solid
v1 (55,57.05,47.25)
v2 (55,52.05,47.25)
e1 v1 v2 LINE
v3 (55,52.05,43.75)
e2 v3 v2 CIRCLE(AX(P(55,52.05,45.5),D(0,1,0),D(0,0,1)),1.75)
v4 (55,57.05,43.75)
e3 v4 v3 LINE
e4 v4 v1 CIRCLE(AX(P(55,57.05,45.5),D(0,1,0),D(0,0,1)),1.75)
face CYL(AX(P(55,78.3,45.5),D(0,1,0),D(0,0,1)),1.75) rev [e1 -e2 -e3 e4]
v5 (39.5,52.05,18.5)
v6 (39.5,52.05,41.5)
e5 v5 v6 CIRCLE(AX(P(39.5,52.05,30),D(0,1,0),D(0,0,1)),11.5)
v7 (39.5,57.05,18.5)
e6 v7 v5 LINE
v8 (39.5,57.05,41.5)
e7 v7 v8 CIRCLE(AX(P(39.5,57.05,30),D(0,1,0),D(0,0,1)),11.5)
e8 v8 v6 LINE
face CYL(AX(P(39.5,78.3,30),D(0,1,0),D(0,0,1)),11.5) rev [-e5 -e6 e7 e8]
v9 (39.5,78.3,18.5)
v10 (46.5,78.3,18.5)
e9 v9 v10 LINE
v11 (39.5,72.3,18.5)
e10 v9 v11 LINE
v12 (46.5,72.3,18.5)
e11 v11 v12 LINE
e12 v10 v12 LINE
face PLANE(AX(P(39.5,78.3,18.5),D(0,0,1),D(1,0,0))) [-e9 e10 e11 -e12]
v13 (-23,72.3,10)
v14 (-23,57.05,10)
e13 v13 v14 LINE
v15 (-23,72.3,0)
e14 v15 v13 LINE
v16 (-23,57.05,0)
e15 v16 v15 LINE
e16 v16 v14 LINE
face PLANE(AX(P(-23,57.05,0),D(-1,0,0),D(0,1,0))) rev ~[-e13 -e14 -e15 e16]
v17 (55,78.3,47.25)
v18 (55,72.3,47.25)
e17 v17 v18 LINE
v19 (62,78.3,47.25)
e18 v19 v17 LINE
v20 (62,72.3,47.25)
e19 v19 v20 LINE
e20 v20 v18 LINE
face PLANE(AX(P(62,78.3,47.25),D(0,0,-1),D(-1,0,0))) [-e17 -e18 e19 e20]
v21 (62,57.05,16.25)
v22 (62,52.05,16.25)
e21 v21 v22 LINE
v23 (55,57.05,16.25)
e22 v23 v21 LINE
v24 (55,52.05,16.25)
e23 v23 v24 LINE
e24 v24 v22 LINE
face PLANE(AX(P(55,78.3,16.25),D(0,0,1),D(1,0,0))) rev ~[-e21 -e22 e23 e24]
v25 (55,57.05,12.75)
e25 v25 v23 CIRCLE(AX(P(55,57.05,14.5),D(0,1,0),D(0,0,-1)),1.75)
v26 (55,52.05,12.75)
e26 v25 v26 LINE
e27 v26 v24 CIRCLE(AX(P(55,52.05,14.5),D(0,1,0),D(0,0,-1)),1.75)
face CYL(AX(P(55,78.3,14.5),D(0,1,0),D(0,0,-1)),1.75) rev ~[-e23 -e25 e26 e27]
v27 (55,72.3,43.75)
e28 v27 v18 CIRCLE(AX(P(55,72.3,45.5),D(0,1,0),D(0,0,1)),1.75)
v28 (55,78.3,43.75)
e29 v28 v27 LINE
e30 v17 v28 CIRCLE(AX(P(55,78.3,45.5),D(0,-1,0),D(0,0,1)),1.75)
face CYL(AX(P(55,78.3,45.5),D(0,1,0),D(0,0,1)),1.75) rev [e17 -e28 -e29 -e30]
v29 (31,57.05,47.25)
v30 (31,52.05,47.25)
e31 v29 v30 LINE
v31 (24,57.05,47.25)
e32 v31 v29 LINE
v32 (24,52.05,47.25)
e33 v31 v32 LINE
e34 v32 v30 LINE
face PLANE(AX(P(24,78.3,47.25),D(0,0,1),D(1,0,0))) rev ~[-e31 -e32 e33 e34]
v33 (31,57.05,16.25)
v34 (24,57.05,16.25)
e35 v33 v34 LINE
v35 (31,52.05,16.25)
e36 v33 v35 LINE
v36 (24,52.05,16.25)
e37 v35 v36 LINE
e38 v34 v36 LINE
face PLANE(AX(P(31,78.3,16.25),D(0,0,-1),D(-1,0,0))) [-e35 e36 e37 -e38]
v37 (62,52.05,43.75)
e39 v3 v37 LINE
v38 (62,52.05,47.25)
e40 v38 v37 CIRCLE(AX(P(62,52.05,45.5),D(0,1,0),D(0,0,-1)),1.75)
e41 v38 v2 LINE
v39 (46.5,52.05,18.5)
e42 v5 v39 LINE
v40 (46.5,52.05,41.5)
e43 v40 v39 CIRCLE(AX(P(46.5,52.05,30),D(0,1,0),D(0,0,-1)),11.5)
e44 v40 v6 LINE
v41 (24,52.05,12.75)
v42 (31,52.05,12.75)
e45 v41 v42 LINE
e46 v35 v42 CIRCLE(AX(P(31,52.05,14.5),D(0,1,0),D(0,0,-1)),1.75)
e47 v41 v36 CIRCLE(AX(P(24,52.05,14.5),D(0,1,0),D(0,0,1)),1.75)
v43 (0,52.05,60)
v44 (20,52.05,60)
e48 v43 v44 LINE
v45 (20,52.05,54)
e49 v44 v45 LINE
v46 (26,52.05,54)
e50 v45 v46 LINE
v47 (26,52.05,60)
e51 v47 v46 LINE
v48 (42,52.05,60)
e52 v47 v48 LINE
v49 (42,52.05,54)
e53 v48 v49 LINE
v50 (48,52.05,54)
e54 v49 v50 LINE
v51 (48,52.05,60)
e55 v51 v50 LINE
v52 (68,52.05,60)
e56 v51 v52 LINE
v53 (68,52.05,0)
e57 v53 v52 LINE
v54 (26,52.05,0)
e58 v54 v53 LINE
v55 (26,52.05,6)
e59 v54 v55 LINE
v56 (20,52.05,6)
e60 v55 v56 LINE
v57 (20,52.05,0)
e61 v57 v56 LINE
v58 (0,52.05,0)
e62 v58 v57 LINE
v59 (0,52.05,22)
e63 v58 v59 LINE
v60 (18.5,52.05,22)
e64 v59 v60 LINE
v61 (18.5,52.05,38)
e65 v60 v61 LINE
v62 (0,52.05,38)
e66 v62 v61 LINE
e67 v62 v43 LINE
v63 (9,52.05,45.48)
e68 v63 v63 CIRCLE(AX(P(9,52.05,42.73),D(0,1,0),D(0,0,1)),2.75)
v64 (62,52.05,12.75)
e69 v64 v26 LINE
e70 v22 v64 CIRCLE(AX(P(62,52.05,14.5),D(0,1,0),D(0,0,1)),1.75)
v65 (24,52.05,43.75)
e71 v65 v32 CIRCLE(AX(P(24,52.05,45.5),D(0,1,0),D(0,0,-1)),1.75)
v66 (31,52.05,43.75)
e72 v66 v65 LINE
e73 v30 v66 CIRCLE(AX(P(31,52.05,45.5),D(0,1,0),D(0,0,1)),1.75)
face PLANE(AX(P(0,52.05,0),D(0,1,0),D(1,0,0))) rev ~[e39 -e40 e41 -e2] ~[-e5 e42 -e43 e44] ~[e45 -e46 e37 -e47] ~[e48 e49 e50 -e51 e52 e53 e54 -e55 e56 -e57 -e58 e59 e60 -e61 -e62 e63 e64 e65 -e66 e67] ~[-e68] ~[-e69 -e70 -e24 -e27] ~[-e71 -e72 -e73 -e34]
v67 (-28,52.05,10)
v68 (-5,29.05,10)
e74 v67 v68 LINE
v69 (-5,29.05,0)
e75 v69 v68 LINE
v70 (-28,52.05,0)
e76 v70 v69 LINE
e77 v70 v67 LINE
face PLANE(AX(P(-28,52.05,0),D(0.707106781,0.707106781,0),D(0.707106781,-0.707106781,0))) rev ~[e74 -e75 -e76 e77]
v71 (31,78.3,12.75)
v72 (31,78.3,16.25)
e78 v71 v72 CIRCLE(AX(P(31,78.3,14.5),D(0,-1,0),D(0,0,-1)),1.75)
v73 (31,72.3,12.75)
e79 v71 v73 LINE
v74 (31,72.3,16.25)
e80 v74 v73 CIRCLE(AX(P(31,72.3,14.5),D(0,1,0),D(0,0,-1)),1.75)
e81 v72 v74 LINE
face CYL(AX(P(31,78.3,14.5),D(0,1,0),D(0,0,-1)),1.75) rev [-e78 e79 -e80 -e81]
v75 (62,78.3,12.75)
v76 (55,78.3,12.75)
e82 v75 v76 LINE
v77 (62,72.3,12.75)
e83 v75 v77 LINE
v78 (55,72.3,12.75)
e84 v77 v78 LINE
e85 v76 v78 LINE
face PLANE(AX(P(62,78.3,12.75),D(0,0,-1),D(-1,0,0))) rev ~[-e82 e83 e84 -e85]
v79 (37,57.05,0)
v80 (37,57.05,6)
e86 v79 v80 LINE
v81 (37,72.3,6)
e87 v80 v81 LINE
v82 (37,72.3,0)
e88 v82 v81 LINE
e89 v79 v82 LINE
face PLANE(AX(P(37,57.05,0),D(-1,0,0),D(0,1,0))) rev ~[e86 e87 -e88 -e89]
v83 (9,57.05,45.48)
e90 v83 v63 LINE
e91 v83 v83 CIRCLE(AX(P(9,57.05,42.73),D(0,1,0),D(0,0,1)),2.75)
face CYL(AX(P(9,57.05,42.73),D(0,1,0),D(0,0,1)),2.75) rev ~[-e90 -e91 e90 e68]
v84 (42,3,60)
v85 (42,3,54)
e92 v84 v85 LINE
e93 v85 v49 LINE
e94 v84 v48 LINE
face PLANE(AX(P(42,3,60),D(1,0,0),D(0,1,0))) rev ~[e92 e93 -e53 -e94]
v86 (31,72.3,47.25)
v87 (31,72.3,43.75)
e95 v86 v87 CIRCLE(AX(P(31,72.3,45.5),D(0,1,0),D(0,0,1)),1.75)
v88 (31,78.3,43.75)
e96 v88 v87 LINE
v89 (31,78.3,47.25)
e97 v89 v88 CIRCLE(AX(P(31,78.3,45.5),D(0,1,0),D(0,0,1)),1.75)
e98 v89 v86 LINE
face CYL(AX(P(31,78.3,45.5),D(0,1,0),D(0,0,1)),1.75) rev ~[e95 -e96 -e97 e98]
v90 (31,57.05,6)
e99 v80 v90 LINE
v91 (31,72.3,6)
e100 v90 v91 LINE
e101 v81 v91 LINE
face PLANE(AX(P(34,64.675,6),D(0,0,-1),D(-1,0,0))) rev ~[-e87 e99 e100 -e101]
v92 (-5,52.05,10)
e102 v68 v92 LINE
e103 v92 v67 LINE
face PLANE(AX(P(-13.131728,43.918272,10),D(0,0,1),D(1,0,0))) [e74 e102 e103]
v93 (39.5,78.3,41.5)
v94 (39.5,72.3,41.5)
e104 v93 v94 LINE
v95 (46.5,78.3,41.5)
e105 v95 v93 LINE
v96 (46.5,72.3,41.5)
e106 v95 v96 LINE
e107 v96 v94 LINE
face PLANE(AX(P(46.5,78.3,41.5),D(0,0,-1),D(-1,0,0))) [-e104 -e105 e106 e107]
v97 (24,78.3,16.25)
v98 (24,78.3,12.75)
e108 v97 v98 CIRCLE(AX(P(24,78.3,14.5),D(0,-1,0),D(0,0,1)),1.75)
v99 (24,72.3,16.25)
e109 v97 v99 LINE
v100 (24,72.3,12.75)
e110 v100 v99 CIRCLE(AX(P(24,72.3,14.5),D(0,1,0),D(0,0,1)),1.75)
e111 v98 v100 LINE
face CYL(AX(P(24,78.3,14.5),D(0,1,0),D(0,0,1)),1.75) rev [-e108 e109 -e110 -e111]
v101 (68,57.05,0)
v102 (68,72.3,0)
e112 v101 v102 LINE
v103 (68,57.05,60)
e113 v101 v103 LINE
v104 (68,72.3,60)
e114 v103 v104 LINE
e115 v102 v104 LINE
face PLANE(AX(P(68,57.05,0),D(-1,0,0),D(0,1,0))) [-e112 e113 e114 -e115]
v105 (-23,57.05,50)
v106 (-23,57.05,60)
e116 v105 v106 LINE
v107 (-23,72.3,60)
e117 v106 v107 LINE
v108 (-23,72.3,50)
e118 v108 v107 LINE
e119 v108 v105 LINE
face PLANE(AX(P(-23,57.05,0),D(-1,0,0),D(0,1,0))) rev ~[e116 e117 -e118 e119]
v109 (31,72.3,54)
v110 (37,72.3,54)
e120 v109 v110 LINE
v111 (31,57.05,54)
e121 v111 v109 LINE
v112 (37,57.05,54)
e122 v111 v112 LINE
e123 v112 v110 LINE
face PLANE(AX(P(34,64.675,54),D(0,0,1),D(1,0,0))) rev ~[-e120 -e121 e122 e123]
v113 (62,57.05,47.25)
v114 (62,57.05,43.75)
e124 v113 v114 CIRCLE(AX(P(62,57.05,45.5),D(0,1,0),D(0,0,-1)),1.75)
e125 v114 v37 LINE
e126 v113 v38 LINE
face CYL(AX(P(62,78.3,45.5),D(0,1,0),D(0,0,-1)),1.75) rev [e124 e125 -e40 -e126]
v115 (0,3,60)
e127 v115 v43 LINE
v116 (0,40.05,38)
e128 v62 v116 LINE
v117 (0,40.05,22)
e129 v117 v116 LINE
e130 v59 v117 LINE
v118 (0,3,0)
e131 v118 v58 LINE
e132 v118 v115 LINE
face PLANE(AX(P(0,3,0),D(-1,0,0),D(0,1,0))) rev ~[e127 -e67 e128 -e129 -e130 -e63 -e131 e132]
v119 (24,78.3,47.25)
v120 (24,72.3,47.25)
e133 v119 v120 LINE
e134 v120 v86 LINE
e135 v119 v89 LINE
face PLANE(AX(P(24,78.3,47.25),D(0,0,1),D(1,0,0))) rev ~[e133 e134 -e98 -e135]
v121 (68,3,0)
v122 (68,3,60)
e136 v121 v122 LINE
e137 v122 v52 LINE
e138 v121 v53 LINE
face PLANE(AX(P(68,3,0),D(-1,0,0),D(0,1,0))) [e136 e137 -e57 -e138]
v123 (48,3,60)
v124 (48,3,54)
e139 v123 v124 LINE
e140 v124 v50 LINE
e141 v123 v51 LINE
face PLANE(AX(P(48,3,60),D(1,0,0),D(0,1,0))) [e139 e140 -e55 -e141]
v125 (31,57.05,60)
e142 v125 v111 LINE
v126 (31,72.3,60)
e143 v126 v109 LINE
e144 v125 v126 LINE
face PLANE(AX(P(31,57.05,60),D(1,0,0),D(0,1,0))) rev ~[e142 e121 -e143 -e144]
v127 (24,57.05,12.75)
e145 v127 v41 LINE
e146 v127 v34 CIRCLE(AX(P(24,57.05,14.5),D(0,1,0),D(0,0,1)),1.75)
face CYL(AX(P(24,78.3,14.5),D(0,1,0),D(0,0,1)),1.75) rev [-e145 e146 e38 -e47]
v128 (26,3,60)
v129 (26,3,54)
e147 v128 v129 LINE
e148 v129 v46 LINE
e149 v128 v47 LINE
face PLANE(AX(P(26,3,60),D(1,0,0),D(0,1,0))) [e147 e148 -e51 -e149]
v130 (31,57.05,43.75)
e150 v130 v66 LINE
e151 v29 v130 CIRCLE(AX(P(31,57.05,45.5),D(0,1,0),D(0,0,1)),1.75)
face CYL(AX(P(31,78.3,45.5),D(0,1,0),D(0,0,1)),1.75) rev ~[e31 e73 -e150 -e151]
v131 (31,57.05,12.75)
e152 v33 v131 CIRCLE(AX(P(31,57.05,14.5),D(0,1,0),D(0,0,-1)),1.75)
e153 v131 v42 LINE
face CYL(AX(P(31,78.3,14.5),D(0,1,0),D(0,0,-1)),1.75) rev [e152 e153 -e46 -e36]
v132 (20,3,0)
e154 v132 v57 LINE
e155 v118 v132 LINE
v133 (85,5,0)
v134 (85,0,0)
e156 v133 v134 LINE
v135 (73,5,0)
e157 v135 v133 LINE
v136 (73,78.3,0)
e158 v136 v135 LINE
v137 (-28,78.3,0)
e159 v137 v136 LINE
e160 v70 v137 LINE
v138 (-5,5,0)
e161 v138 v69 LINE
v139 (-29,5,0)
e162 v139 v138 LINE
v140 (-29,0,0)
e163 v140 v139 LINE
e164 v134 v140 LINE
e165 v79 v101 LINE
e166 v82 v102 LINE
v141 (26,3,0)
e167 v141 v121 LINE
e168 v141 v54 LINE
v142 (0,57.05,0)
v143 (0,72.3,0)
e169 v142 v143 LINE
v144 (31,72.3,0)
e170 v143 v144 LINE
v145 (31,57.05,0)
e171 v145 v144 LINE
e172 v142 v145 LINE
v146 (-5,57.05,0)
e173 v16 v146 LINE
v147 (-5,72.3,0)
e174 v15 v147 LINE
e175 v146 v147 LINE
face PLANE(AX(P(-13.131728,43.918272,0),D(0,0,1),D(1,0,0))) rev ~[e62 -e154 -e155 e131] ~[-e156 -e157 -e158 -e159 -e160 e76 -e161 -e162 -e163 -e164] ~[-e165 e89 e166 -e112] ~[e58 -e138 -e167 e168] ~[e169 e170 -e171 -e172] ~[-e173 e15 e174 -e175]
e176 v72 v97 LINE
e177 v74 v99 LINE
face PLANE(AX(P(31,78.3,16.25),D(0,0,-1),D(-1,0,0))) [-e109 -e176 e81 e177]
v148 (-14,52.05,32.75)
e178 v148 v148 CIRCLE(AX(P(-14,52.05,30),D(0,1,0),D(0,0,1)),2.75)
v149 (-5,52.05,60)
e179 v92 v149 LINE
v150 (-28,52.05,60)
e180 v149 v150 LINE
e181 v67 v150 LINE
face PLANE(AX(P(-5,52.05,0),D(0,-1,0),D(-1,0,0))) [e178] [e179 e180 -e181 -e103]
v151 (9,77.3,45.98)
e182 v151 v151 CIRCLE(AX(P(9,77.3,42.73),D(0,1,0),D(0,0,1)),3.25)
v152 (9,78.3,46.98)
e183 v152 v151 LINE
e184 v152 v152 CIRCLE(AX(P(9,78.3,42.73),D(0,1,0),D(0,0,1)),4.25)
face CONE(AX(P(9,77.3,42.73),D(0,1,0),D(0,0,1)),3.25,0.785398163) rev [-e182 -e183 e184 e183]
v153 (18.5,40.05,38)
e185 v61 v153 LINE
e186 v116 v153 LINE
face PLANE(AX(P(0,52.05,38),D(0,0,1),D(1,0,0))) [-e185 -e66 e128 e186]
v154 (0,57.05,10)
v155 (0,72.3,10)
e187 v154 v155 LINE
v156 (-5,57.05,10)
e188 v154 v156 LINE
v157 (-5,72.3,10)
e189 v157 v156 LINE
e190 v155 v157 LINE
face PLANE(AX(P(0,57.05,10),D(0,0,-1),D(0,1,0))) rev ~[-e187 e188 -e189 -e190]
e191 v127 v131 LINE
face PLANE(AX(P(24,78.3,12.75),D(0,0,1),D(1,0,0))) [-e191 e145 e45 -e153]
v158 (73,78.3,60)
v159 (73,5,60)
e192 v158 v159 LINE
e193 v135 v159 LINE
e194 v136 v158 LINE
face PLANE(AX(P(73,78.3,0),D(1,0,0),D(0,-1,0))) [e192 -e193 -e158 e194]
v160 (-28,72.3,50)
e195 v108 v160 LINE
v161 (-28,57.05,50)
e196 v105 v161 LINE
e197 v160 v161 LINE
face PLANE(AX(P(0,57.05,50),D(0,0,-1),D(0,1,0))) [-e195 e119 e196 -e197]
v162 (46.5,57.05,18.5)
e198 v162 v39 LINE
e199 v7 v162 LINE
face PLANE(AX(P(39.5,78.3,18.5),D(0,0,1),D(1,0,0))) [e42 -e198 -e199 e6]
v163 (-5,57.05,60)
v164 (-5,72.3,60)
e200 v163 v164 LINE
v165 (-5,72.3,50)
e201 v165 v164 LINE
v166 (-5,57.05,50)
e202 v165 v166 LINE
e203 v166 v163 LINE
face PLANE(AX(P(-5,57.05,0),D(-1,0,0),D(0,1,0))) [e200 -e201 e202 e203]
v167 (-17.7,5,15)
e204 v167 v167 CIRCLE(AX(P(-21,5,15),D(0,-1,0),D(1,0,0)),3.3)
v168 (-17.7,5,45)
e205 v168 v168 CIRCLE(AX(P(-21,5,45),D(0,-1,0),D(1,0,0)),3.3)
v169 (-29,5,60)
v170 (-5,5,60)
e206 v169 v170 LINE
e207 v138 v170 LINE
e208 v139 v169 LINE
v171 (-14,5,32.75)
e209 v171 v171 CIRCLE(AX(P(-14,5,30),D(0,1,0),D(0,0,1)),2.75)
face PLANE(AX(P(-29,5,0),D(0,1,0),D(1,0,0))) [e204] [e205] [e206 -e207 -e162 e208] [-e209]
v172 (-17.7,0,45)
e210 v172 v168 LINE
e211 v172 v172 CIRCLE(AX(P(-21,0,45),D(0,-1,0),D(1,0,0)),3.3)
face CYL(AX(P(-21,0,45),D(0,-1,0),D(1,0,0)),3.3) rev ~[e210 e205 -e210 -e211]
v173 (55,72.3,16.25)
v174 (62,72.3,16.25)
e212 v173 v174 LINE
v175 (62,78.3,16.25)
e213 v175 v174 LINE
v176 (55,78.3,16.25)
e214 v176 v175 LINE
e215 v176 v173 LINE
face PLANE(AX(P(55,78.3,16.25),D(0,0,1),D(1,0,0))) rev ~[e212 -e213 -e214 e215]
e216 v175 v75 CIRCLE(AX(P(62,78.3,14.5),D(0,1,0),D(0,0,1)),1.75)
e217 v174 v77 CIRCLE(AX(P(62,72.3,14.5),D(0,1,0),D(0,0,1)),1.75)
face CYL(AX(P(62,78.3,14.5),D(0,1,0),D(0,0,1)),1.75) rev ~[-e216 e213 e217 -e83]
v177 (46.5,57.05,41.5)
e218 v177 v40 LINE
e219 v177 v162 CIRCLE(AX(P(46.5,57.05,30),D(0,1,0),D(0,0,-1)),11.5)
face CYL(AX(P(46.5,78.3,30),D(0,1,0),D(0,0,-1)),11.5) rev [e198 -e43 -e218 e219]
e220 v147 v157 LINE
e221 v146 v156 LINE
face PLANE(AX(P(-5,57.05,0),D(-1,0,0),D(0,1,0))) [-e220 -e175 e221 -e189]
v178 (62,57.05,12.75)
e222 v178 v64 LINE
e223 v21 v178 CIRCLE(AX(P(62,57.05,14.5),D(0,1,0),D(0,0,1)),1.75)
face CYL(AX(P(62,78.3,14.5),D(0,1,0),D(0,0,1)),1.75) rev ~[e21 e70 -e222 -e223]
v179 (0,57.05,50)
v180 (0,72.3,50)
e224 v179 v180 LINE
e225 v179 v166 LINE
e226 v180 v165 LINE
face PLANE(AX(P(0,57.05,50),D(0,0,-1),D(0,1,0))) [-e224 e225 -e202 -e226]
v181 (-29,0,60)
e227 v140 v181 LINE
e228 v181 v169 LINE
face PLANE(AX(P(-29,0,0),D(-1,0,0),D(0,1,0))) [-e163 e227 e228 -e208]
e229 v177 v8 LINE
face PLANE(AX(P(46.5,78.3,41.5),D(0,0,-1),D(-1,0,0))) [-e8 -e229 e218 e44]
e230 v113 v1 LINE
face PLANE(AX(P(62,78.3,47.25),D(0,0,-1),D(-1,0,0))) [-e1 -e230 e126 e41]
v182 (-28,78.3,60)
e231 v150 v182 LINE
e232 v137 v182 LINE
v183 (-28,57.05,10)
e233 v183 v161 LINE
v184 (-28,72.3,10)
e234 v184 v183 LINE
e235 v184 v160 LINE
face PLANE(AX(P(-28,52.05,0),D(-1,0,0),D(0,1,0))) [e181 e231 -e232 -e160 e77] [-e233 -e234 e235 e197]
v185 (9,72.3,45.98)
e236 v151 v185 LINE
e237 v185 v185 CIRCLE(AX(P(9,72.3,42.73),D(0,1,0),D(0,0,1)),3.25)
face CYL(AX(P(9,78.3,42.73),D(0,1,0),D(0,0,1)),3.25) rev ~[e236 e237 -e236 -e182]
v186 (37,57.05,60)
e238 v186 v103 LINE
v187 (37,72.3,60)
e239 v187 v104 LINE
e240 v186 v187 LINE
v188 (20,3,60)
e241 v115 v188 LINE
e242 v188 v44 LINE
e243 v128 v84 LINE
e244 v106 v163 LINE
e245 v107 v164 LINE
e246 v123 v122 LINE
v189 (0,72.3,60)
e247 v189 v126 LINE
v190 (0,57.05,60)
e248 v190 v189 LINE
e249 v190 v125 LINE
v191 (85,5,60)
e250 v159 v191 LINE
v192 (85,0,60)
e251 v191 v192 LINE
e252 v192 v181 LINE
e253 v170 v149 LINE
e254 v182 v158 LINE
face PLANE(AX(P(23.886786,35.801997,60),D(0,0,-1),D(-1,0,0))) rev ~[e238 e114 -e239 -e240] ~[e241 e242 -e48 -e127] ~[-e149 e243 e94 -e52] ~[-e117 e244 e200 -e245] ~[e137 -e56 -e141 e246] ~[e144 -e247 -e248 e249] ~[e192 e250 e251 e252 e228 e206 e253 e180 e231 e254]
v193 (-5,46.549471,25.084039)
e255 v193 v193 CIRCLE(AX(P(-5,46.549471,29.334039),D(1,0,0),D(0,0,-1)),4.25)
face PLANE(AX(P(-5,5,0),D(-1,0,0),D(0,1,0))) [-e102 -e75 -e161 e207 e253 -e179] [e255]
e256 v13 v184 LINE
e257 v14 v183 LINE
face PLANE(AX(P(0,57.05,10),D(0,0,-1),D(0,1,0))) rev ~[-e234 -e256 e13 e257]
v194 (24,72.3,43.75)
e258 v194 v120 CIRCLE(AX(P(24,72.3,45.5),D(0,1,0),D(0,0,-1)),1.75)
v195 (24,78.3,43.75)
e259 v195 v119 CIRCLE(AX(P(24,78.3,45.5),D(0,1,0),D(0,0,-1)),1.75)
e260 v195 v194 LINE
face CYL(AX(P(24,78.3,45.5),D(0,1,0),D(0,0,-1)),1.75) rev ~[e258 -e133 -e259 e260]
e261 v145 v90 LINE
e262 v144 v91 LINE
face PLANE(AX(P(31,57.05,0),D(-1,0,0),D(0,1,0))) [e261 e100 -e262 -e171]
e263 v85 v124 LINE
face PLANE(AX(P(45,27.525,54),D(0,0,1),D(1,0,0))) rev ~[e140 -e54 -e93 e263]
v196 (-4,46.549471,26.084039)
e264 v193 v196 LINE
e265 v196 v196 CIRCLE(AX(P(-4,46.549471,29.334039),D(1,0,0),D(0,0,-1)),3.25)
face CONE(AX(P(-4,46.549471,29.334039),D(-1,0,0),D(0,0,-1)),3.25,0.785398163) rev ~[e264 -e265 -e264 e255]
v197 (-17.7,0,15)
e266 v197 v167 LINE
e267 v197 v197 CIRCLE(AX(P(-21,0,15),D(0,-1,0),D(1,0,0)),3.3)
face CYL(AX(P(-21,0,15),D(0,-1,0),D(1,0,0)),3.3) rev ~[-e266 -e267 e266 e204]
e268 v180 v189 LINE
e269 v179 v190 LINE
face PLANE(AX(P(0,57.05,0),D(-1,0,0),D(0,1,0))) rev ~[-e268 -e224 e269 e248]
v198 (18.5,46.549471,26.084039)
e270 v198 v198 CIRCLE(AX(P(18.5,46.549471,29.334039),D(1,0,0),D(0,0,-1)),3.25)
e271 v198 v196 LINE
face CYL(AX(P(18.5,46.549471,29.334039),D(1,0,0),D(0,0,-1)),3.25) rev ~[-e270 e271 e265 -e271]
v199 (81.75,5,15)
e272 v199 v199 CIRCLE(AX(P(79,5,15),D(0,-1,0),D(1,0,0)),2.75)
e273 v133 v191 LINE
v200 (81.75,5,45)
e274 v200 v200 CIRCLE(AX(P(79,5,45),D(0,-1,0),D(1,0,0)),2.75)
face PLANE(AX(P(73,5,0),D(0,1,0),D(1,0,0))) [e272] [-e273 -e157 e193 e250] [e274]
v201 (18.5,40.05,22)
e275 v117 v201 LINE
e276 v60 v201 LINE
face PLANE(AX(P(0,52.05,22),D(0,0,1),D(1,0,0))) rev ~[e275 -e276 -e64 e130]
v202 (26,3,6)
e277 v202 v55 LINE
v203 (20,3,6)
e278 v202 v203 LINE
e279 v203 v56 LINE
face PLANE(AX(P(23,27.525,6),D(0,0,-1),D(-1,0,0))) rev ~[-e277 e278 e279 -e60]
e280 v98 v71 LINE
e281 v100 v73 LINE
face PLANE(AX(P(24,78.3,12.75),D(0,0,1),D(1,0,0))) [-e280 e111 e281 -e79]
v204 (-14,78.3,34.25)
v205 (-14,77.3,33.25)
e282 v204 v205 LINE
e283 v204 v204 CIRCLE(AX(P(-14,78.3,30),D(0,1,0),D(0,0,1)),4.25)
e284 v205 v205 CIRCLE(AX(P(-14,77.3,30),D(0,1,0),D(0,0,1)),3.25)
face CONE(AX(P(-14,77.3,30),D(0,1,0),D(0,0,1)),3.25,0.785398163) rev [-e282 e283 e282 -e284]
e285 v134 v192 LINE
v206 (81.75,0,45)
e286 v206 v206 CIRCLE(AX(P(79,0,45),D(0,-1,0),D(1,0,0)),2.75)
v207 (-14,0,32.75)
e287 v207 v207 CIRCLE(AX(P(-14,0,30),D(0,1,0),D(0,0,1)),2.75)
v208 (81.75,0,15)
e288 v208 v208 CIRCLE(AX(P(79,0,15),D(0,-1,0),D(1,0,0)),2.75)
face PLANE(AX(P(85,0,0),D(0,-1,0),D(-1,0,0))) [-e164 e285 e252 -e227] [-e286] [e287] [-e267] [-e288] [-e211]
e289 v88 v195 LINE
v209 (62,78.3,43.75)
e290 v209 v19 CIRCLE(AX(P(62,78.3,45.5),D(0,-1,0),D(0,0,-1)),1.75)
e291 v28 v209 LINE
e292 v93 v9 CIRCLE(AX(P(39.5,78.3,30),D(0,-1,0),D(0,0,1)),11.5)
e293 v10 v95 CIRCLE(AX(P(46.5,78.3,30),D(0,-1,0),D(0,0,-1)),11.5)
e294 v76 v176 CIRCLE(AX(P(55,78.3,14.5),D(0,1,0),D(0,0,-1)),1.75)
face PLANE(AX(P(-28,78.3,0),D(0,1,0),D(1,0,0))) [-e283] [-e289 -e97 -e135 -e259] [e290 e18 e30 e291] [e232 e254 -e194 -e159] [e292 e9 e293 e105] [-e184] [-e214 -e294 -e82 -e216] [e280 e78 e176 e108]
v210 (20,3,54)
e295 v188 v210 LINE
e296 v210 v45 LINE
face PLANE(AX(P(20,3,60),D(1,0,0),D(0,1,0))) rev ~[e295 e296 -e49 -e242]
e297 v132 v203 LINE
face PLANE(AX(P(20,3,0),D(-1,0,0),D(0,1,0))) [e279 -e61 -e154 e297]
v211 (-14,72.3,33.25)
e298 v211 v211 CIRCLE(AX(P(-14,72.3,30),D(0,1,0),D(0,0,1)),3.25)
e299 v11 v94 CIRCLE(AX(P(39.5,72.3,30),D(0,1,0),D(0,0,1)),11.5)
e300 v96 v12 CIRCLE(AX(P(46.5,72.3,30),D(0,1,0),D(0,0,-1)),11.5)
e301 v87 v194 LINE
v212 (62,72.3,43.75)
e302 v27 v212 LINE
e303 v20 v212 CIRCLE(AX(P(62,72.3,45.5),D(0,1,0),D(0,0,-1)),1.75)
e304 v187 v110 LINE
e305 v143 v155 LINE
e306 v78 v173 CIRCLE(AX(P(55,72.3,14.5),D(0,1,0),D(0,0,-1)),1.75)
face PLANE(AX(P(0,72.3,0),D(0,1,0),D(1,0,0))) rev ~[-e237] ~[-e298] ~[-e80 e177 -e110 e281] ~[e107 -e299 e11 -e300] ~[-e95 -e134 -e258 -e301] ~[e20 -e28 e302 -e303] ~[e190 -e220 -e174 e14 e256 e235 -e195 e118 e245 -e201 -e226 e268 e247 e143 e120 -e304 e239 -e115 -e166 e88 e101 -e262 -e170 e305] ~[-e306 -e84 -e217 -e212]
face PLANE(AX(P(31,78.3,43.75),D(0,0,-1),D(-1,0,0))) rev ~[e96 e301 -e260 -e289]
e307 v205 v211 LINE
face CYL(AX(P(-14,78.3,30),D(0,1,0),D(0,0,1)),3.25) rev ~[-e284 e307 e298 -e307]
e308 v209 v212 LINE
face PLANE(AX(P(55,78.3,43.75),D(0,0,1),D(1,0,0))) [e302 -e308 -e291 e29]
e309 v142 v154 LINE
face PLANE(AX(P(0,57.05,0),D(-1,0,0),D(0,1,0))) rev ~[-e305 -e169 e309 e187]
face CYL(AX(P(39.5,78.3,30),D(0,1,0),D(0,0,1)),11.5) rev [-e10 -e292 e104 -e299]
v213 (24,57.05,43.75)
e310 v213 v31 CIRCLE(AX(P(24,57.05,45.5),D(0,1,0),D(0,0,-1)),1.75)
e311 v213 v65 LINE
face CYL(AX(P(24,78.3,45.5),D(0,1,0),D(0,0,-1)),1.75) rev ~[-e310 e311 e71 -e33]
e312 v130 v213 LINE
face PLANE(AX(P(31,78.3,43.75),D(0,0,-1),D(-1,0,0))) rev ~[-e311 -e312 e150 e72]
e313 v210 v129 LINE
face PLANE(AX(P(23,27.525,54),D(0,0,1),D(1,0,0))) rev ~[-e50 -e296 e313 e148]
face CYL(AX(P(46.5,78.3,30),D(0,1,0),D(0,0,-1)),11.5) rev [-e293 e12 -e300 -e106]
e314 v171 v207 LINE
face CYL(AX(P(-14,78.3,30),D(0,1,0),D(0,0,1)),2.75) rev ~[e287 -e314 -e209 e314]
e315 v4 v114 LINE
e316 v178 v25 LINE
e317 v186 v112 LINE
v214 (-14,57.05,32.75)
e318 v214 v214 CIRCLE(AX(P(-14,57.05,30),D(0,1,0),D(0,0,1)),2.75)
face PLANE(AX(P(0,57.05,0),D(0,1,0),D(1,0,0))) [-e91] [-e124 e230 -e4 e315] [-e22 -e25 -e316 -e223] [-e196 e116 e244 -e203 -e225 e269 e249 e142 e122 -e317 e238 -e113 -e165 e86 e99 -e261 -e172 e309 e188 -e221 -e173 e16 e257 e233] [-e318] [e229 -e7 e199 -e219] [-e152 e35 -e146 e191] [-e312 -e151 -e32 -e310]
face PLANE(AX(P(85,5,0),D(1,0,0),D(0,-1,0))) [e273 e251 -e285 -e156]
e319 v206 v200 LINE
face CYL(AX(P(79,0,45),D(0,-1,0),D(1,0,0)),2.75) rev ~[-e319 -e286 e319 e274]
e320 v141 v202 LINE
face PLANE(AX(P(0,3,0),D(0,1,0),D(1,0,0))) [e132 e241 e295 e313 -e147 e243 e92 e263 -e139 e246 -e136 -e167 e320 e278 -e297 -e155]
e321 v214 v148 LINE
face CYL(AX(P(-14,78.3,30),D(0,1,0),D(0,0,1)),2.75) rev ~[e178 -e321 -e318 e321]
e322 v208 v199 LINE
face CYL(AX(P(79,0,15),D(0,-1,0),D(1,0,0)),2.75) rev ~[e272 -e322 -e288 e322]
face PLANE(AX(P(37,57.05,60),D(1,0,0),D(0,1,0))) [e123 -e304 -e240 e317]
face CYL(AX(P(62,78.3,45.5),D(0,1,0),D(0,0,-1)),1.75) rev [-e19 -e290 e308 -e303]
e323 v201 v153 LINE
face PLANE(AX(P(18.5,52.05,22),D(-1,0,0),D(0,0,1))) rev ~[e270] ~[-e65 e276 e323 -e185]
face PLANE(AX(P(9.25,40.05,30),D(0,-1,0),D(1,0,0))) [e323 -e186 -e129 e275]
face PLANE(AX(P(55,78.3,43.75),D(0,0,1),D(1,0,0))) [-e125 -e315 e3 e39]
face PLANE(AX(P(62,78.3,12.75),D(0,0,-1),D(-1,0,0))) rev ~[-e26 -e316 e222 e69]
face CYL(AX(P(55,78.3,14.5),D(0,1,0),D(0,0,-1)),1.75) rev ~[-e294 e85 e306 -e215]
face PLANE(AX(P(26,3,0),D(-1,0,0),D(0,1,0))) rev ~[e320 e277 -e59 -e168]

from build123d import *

# Parameters (mm, degrees)
SKETCH1_W           = 68
SKETCH1_H           = 49.05
SKETCH1_H_2         = 15.25
SKETCH1_W_2         = 18
BOSS_EXTRUDE1_DEPTH = 60
SKETCH2_W           = 40
SKETCH2_H           = 15.25
CUT_EXTRUDE1_DEPTH  = 131.214784107
CUT_EXTRUDE2_REACH  = 132.215
CUT_EXTRUDE3_REACH  = 132.215
SKETCH5_R           = 3.25
CUT_EXTRUDE4_REACH  = 120.658
SKETCH6_R           = 2.75
SKETCH7_R           = 2.75
CUT_EXTRUDE5_DEPTH  = 131.214784107
CUT_EXTRUDE6_REACH  = 132.215
SKETCH8_R           = 3.25
CHAMFER1_SIZE       = 1
CUT_EXTRUDE8_REACH  = 132.215
SKETCH10_R          = 3.3
SKETCH10_R_2        = 2.75
SKETCH11_W          = 18.5
SKETCH11_H          = 16
BOSS_EXTRUDE2_DEPTH = 12
SKETCH12_R          = 3.25
CUT_EXTRUDE9_DEPTH  = 119.966970206
CHAMFER2_SIZE       = 1
SKETCH13_W          = 6
SKETCH13_H          = 15.25
BOSS_EXTRUDE3_DEPTH = 6
SKETCH14_W          = 6
SKETCH14_H          = 49.05
BOSS_EXTRUDE4_DEPTH = 6
SKETCH15_W          = 6
SKETCH15_H          = 49.05
SKETCH15_H_2        = 15.25
BOSS_EXTRUDE5_DEPTH = 6
BOSS_EXTRUDE6_DEPTH = 10


with BuildPart() as part:
    # Sketch1 → Boss-Extrude1 (new body)
    with BuildSketch(Plane.XY):
        Polygon((85, 0), (-29, 0), (-29, 5), (-5, 5), (-5, 52.05), (-28, 52.05), (-28, 78.3), (73, 78.3), (73, 5), (85, 5), align=None)
        with Locations((34, 27.525)):
            Rectangle(SKETCH1_W, SKETCH1_H, mode=Mode.SUBTRACT)
        with Locations((34, 64.675)):
            Rectangle(SKETCH1_W, SKETCH1_H_2, mode=Mode.SUBTRACT)
        with Locations((-14, 64.675)):
            Rectangle(SKETCH1_W_2, SKETCH1_H_2, mode=Mode.SUBTRACT)
    extrude(amount=BOSS_EXTRUDE1_DEPTH)

    # Sketch2 → Cut-Extrude1 (cut, through all)
    with BuildSketch(Plane(origin=(0, 0, 0), x_dir=(0, 0, -1), z_dir=(1, 0, 0))):
        with Locations((-30, 64.675)):
            Rectangle(SKETCH2_W, SKETCH2_H)
    extrude(amount=-CUT_EXTRUDE1_DEPTH, mode=Mode.SUBTRACT)

    # Cut-Extrude2: up to this face of the body (flat: up to its plane)
    cut_extrude2_end = Plane(part.part.faces().sort_by_distance((34, 52.05, 30))[0])
    # Sketch3 → Cut-Extrude2 (cut, up to the picked face)
    with BuildSketch(Plane(origin=(0, 78.3, 0), x_dir=(1, 0, 0), z_dir=(0, 1, 0)), mode=Mode.PRIVATE) as cut_extrude2_sk1:
        with BuildLine():
            Line((39.5, -18.5), (46.5, -18.5))
            ThreePointArc((46.5, -18.5), (58, -30), (46.5, -41.5))
            Line((46.5, -41.5), (39.5, -41.5))
            ThreePointArc((39.5, -41.5), (28, -30), (39.5, -18.5))
        make_face()
    cut_extrude2_tool1 = split(extrude(cut_extrude2_sk1.sketch, amount=-CUT_EXTRUDE2_REACH, mode=Mode.PRIVATE), bisect_by=cut_extrude2_end, keep=Keep.BOTH, mode=Mode.PRIVATE)
    # Sketch3 → Cut-Extrude2 (cut, up to the picked face)
    with BuildSketch(Plane(origin=(0, 78.3, 0), x_dir=(1, 0, 0), z_dir=(0, 1, 0)), mode=Mode.PRIVATE) as cut_extrude2_sk2:
        with BuildLine():
            Line((31, -16.25), (24, -16.25))
            ThreePointArc((24, -16.25), (22.25, -14.5), (24, -12.75))
            Line((24, -12.75), (31, -12.75))
            ThreePointArc((31, -12.75), (32.75, -14.5), (31, -16.25))
        make_face()
    cut_extrude2_tool2 = split(extrude(cut_extrude2_sk2.sketch, amount=-CUT_EXTRUDE2_REACH, mode=Mode.PRIVATE), bisect_by=cut_extrude2_end, keep=Keep.BOTH, mode=Mode.PRIVATE)
    # Sketch3 → Cut-Extrude2 (cut, up to the picked face)
    with BuildSketch(Plane(origin=(0, 78.3, 0), x_dir=(1, 0, 0), z_dir=(0, 1, 0)), mode=Mode.PRIVATE) as cut_extrude2_sk3:
        with BuildLine():
            Line((55, -16.25), (62, -16.25))
            ThreePointArc((62, -16.25), (63.75, -14.5), (62, -12.75))
            Line((62, -12.75), (55, -12.75))
            ThreePointArc((55, -12.75), (53.25, -14.5), (55, -16.25))
        make_face()
    cut_extrude2_tool3 = split(extrude(cut_extrude2_sk3.sketch, amount=-CUT_EXTRUDE2_REACH, mode=Mode.PRIVATE), bisect_by=cut_extrude2_end, keep=Keep.BOTH, mode=Mode.PRIVATE)
    # Sketch3 → Cut-Extrude2 (cut, up to the picked face)
    with BuildSketch(Plane(origin=(0, 78.3, 0), x_dir=(1, 0, 0), z_dir=(0, 1, 0)), mode=Mode.PRIVATE) as cut_extrude2_sk4:
        with BuildLine():
            Line((31, -43.75), (24, -43.75))
            ThreePointArc((24, -43.75), (22.25, -45.5), (24, -47.25))
            Line((24, -47.25), (31, -47.25))
            ThreePointArc((31, -47.25), (32.75, -45.5), (31, -43.75))
        make_face()
    cut_extrude2_tool4 = split(extrude(cut_extrude2_sk4.sketch, amount=-CUT_EXTRUDE2_REACH, mode=Mode.PRIVATE), bisect_by=cut_extrude2_end, keep=Keep.BOTH, mode=Mode.PRIVATE)
    # Sketch3 → Cut-Extrude2 (cut, up to the picked face)
    with BuildSketch(Plane(origin=(0, 78.3, 0), x_dir=(1, 0, 0), z_dir=(0, 1, 0)), mode=Mode.PRIVATE) as cut_extrude2_sk5:
        with BuildLine():
            Line((55, -43.75), (62, -43.75))
            ThreePointArc((62, -43.75), (63.75, -45.5), (62, -47.25))
            Line((62, -47.25), (55, -47.25))
            ThreePointArc((55, -47.25), (53.25, -45.5), (55, -43.75))
        make_face()
    cut_extrude2_tool5 = split(extrude(cut_extrude2_sk5.sketch, amount=-CUT_EXTRUDE2_REACH, mode=Mode.PRIVATE), bisect_by=cut_extrude2_end, keep=Keep.BOTH, mode=Mode.PRIVATE)
    add(cut_extrude2_tool1.solids().sort_by(Axis((43, 78.3, 30), (0, -1, 0)))[0], mode=Mode.SUBTRACT)
    add(cut_extrude2_tool2.solids().sort_by(Axis((27.5, 78.3, 14.5), (0, -1, 0)))[0], mode=Mode.SUBTRACT)
    add(cut_extrude2_tool3.solids().sort_by(Axis((58.5, 78.3, 14.5), (0, -1, 0)))[0], mode=Mode.SUBTRACT)
    add(cut_extrude2_tool4.solids().sort_by(Axis((27.5, 78.3, 45.5), (0, -1, 0)))[0], mode=Mode.SUBTRACT)
    add(cut_extrude2_tool5.solids().sort_by(Axis((58.5, 78.3, 45.5), (0, -1, 0)))[0], mode=Mode.SUBTRACT)

    # Sketch5 → Cut-Extrude3 (cut, up to next)
    with BuildSketch(Plane(origin=(0, 78.3, 0), x_dir=(1, 0, 0), z_dir=(0, 1, 0)), mode=Mode.PRIVATE) as cut_extrude3_sk1:
        with Locations(Location((9, -42.73, 0), (0, 0, 270))):
            Circle(SKETCH5_R)
    cut_extrude3_tool1 = extrude(cut_extrude3_sk1.sketch, amount=-CUT_EXTRUDE3_REACH, mode=Mode.PRIVATE) & part.part
    add(cut_extrude3_tool1.solids().sort_by_distance((9, 78.3, 42.73))[0], mode=Mode.SUBTRACT)

    # Sketch6 → Cut-Extrude4 (cut, up to next)
    with BuildSketch(Plane(origin=(0, 57.05, 0), x_dir=(1, 0, 0), z_dir=(0, 1, 0)), mode=Mode.PRIVATE) as cut_extrude4_sk1:
        with Locations(Location((9, -42.73, 0), (0, 0, 270))):
            Circle(SKETCH6_R)
    cut_extrude4_tool1 = extrude(cut_extrude4_sk1.sketch, amount=-CUT_EXTRUDE4_REACH, mode=Mode.PRIVATE) & part.part
    add(cut_extrude4_tool1.solids().sort_by_distance((9, 57.05, 42.73))[0], mode=Mode.SUBTRACT)

    # Sketch7 → Cut-Extrude5 (cut, through all)
    with BuildSketch(Plane(origin=(0, 78.3, 0), x_dir=(1, 0, 0), z_dir=(0, 1, 0))):
        with Locations(Location((-14, -30, 0), (0, 0, 270))):
            Circle(SKETCH7_R)
    extrude(amount=-CUT_EXTRUDE5_DEPTH, mode=Mode.SUBTRACT)

    # Sketch8 → Cut-Extrude6 (cut, up to next)
    with BuildSketch(Plane(origin=(0, 78.3, 0), x_dir=(1, 0, 0), z_dir=(0, 1, 0)), mode=Mode.PRIVATE) as cut_extrude6_sk1:
        with Locations(Location((-14, -30, 0), (0, 0, 270))):
            Circle(SKETCH8_R)
    cut_extrude6_tool1 = extrude(cut_extrude6_sk1.sketch, amount=-CUT_EXTRUDE6_REACH, mode=Mode.PRIVATE) & part.part
    add(cut_extrude6_tool1.solids().sort_by_distance((-14, 78.3, 30))[0], mode=Mode.SUBTRACT)

    # Chamfer1
    chamfer1_edges = [part.edges().sort_by_distance(p)[0] for p in [
        (9, 78.3, 39.48),
        (-14, 78.3, 26.75),
    ]]
    chamfer(chamfer1_edges, length=CHAMFER1_SIZE)

    # Sketch10 → Cut-Extrude8 (cut, up to next)
    with BuildSketch(Plane.XZ, mode=Mode.PRIVATE) as cut_extrude8_sk1:
        with Locations((-21, 45)):
            Circle(SKETCH10_R)
    cut_extrude8_tool1 = extrude(cut_extrude8_sk1.sketch, amount=-CUT_EXTRUDE8_REACH, mode=Mode.PRIVATE) & part.part
    # Sketch10 → Cut-Extrude8 (cut, up to next)
    with BuildSketch(Plane.XZ, mode=Mode.PRIVATE) as cut_extrude8_sk2:
        with Locations((-21, 15)):
            Circle(SKETCH10_R)
    cut_extrude8_tool2 = extrude(cut_extrude8_sk2.sketch, amount=-CUT_EXTRUDE8_REACH, mode=Mode.PRIVATE) & part.part
    # Sketch10 → Cut-Extrude8 (cut, up to next)
    with BuildSketch(Plane.XZ, mode=Mode.PRIVATE) as cut_extrude8_sk3:
        with Locations((79, 15)):
            Circle(SKETCH10_R_2)
    cut_extrude8_tool3 = extrude(cut_extrude8_sk3.sketch, amount=-CUT_EXTRUDE8_REACH, mode=Mode.PRIVATE) & part.part
    # Sketch10 → Cut-Extrude8 (cut, up to next)
    with BuildSketch(Plane.XZ, mode=Mode.PRIVATE) as cut_extrude8_sk4:
        with Locations((79, 45)):
            Circle(SKETCH10_R_2)
    cut_extrude8_tool4 = extrude(cut_extrude8_sk4.sketch, amount=-CUT_EXTRUDE8_REACH, mode=Mode.PRIVATE) & part.part
    add(cut_extrude8_tool1.solids().sort_by_distance((-21, 0, 45))[0], mode=Mode.SUBTRACT)
    add(cut_extrude8_tool2.solids().sort_by_distance((-21, 0, 15))[0], mode=Mode.SUBTRACT)
    add(cut_extrude8_tool3.solids().sort_by_distance((79, 0, 15))[0], mode=Mode.SUBTRACT)
    add(cut_extrude8_tool4.solids().sort_by_distance((79, 0, 45))[0], mode=Mode.SUBTRACT)

    # Sketch11 → Boss-Extrude2 (add)
    with BuildSketch(Plane.XZ.offset(-52.05)):
        with Locations((9.25, 30)):
            Rectangle(SKETCH11_W, SKETCH11_H)
    extrude(amount=BOSS_EXTRUDE2_DEPTH)

    # Sketch12 → Cut-Extrude9 (cut, through all)
    with BuildSketch(Plane(origin=(18.5, 0, 0), x_dir=(0, 0, -1), z_dir=(1, 0, 0))):
        with Locations((-29.33403853, 46.549471103)):
            Circle(SKETCH12_R)
    extrude(amount=-CUT_EXTRUDE9_DEPTH, mode=Mode.SUBTRACT)

    # Chamfer2
    chamfer2_edges = [part.edges().sort_by_distance(p)[0] for p in [
        (-5, 46.549471103, 32.58403853),
    ]]
    chamfer(chamfer2_edges, length=CHAMFER2_SIZE)

    # Sketch13 → Boss-Extrude3 (add)
    with BuildSketch(Plane.XY.offset(60)):
        with Locations((34, 64.675)):
            Rectangle(SKETCH13_W, SKETCH13_H)
    extrude(amount=-BOSS_EXTRUDE3_DEPTH)

    # Sketch14 → Boss-Extrude4 (add)
    with BuildSketch(Plane.XY.offset(60)):
        with Locations((23, 27.525)):
            Rectangle(SKETCH14_W, SKETCH14_H)
        with Locations((45, 27.525)):
            Rectangle(SKETCH14_W, SKETCH14_H)
    extrude(amount=-BOSS_EXTRUDE4_DEPTH)

    # Sketch15 → Boss-Extrude5 (add)
    with BuildSketch(Plane(origin=(0, 0, 0), x_dir=(-1, 0, 0), z_dir=(0, 0, -1))):
        with Locations((-23, 27.525)):
            Rectangle(SKETCH15_W, SKETCH15_H)
        with Locations((-34, 64.675)):
            Rectangle(SKETCH15_W, SKETCH15_H_2)
    extrude(amount=-BOSS_EXTRUDE5_DEPTH)

    # Sketch16 → Boss-Extrude6 (add)
    with BuildSketch(Plane(origin=(0, 0, 0), x_dir=(-1, 0, 0), z_dir=(0, 0, -1))):
        Polygon((28, 52.05), (5, 29.05), (5, 52.05), align=None)
    extrude(amount=-BOSS_EXTRUDE6_DEPTH)


solid = part.part
